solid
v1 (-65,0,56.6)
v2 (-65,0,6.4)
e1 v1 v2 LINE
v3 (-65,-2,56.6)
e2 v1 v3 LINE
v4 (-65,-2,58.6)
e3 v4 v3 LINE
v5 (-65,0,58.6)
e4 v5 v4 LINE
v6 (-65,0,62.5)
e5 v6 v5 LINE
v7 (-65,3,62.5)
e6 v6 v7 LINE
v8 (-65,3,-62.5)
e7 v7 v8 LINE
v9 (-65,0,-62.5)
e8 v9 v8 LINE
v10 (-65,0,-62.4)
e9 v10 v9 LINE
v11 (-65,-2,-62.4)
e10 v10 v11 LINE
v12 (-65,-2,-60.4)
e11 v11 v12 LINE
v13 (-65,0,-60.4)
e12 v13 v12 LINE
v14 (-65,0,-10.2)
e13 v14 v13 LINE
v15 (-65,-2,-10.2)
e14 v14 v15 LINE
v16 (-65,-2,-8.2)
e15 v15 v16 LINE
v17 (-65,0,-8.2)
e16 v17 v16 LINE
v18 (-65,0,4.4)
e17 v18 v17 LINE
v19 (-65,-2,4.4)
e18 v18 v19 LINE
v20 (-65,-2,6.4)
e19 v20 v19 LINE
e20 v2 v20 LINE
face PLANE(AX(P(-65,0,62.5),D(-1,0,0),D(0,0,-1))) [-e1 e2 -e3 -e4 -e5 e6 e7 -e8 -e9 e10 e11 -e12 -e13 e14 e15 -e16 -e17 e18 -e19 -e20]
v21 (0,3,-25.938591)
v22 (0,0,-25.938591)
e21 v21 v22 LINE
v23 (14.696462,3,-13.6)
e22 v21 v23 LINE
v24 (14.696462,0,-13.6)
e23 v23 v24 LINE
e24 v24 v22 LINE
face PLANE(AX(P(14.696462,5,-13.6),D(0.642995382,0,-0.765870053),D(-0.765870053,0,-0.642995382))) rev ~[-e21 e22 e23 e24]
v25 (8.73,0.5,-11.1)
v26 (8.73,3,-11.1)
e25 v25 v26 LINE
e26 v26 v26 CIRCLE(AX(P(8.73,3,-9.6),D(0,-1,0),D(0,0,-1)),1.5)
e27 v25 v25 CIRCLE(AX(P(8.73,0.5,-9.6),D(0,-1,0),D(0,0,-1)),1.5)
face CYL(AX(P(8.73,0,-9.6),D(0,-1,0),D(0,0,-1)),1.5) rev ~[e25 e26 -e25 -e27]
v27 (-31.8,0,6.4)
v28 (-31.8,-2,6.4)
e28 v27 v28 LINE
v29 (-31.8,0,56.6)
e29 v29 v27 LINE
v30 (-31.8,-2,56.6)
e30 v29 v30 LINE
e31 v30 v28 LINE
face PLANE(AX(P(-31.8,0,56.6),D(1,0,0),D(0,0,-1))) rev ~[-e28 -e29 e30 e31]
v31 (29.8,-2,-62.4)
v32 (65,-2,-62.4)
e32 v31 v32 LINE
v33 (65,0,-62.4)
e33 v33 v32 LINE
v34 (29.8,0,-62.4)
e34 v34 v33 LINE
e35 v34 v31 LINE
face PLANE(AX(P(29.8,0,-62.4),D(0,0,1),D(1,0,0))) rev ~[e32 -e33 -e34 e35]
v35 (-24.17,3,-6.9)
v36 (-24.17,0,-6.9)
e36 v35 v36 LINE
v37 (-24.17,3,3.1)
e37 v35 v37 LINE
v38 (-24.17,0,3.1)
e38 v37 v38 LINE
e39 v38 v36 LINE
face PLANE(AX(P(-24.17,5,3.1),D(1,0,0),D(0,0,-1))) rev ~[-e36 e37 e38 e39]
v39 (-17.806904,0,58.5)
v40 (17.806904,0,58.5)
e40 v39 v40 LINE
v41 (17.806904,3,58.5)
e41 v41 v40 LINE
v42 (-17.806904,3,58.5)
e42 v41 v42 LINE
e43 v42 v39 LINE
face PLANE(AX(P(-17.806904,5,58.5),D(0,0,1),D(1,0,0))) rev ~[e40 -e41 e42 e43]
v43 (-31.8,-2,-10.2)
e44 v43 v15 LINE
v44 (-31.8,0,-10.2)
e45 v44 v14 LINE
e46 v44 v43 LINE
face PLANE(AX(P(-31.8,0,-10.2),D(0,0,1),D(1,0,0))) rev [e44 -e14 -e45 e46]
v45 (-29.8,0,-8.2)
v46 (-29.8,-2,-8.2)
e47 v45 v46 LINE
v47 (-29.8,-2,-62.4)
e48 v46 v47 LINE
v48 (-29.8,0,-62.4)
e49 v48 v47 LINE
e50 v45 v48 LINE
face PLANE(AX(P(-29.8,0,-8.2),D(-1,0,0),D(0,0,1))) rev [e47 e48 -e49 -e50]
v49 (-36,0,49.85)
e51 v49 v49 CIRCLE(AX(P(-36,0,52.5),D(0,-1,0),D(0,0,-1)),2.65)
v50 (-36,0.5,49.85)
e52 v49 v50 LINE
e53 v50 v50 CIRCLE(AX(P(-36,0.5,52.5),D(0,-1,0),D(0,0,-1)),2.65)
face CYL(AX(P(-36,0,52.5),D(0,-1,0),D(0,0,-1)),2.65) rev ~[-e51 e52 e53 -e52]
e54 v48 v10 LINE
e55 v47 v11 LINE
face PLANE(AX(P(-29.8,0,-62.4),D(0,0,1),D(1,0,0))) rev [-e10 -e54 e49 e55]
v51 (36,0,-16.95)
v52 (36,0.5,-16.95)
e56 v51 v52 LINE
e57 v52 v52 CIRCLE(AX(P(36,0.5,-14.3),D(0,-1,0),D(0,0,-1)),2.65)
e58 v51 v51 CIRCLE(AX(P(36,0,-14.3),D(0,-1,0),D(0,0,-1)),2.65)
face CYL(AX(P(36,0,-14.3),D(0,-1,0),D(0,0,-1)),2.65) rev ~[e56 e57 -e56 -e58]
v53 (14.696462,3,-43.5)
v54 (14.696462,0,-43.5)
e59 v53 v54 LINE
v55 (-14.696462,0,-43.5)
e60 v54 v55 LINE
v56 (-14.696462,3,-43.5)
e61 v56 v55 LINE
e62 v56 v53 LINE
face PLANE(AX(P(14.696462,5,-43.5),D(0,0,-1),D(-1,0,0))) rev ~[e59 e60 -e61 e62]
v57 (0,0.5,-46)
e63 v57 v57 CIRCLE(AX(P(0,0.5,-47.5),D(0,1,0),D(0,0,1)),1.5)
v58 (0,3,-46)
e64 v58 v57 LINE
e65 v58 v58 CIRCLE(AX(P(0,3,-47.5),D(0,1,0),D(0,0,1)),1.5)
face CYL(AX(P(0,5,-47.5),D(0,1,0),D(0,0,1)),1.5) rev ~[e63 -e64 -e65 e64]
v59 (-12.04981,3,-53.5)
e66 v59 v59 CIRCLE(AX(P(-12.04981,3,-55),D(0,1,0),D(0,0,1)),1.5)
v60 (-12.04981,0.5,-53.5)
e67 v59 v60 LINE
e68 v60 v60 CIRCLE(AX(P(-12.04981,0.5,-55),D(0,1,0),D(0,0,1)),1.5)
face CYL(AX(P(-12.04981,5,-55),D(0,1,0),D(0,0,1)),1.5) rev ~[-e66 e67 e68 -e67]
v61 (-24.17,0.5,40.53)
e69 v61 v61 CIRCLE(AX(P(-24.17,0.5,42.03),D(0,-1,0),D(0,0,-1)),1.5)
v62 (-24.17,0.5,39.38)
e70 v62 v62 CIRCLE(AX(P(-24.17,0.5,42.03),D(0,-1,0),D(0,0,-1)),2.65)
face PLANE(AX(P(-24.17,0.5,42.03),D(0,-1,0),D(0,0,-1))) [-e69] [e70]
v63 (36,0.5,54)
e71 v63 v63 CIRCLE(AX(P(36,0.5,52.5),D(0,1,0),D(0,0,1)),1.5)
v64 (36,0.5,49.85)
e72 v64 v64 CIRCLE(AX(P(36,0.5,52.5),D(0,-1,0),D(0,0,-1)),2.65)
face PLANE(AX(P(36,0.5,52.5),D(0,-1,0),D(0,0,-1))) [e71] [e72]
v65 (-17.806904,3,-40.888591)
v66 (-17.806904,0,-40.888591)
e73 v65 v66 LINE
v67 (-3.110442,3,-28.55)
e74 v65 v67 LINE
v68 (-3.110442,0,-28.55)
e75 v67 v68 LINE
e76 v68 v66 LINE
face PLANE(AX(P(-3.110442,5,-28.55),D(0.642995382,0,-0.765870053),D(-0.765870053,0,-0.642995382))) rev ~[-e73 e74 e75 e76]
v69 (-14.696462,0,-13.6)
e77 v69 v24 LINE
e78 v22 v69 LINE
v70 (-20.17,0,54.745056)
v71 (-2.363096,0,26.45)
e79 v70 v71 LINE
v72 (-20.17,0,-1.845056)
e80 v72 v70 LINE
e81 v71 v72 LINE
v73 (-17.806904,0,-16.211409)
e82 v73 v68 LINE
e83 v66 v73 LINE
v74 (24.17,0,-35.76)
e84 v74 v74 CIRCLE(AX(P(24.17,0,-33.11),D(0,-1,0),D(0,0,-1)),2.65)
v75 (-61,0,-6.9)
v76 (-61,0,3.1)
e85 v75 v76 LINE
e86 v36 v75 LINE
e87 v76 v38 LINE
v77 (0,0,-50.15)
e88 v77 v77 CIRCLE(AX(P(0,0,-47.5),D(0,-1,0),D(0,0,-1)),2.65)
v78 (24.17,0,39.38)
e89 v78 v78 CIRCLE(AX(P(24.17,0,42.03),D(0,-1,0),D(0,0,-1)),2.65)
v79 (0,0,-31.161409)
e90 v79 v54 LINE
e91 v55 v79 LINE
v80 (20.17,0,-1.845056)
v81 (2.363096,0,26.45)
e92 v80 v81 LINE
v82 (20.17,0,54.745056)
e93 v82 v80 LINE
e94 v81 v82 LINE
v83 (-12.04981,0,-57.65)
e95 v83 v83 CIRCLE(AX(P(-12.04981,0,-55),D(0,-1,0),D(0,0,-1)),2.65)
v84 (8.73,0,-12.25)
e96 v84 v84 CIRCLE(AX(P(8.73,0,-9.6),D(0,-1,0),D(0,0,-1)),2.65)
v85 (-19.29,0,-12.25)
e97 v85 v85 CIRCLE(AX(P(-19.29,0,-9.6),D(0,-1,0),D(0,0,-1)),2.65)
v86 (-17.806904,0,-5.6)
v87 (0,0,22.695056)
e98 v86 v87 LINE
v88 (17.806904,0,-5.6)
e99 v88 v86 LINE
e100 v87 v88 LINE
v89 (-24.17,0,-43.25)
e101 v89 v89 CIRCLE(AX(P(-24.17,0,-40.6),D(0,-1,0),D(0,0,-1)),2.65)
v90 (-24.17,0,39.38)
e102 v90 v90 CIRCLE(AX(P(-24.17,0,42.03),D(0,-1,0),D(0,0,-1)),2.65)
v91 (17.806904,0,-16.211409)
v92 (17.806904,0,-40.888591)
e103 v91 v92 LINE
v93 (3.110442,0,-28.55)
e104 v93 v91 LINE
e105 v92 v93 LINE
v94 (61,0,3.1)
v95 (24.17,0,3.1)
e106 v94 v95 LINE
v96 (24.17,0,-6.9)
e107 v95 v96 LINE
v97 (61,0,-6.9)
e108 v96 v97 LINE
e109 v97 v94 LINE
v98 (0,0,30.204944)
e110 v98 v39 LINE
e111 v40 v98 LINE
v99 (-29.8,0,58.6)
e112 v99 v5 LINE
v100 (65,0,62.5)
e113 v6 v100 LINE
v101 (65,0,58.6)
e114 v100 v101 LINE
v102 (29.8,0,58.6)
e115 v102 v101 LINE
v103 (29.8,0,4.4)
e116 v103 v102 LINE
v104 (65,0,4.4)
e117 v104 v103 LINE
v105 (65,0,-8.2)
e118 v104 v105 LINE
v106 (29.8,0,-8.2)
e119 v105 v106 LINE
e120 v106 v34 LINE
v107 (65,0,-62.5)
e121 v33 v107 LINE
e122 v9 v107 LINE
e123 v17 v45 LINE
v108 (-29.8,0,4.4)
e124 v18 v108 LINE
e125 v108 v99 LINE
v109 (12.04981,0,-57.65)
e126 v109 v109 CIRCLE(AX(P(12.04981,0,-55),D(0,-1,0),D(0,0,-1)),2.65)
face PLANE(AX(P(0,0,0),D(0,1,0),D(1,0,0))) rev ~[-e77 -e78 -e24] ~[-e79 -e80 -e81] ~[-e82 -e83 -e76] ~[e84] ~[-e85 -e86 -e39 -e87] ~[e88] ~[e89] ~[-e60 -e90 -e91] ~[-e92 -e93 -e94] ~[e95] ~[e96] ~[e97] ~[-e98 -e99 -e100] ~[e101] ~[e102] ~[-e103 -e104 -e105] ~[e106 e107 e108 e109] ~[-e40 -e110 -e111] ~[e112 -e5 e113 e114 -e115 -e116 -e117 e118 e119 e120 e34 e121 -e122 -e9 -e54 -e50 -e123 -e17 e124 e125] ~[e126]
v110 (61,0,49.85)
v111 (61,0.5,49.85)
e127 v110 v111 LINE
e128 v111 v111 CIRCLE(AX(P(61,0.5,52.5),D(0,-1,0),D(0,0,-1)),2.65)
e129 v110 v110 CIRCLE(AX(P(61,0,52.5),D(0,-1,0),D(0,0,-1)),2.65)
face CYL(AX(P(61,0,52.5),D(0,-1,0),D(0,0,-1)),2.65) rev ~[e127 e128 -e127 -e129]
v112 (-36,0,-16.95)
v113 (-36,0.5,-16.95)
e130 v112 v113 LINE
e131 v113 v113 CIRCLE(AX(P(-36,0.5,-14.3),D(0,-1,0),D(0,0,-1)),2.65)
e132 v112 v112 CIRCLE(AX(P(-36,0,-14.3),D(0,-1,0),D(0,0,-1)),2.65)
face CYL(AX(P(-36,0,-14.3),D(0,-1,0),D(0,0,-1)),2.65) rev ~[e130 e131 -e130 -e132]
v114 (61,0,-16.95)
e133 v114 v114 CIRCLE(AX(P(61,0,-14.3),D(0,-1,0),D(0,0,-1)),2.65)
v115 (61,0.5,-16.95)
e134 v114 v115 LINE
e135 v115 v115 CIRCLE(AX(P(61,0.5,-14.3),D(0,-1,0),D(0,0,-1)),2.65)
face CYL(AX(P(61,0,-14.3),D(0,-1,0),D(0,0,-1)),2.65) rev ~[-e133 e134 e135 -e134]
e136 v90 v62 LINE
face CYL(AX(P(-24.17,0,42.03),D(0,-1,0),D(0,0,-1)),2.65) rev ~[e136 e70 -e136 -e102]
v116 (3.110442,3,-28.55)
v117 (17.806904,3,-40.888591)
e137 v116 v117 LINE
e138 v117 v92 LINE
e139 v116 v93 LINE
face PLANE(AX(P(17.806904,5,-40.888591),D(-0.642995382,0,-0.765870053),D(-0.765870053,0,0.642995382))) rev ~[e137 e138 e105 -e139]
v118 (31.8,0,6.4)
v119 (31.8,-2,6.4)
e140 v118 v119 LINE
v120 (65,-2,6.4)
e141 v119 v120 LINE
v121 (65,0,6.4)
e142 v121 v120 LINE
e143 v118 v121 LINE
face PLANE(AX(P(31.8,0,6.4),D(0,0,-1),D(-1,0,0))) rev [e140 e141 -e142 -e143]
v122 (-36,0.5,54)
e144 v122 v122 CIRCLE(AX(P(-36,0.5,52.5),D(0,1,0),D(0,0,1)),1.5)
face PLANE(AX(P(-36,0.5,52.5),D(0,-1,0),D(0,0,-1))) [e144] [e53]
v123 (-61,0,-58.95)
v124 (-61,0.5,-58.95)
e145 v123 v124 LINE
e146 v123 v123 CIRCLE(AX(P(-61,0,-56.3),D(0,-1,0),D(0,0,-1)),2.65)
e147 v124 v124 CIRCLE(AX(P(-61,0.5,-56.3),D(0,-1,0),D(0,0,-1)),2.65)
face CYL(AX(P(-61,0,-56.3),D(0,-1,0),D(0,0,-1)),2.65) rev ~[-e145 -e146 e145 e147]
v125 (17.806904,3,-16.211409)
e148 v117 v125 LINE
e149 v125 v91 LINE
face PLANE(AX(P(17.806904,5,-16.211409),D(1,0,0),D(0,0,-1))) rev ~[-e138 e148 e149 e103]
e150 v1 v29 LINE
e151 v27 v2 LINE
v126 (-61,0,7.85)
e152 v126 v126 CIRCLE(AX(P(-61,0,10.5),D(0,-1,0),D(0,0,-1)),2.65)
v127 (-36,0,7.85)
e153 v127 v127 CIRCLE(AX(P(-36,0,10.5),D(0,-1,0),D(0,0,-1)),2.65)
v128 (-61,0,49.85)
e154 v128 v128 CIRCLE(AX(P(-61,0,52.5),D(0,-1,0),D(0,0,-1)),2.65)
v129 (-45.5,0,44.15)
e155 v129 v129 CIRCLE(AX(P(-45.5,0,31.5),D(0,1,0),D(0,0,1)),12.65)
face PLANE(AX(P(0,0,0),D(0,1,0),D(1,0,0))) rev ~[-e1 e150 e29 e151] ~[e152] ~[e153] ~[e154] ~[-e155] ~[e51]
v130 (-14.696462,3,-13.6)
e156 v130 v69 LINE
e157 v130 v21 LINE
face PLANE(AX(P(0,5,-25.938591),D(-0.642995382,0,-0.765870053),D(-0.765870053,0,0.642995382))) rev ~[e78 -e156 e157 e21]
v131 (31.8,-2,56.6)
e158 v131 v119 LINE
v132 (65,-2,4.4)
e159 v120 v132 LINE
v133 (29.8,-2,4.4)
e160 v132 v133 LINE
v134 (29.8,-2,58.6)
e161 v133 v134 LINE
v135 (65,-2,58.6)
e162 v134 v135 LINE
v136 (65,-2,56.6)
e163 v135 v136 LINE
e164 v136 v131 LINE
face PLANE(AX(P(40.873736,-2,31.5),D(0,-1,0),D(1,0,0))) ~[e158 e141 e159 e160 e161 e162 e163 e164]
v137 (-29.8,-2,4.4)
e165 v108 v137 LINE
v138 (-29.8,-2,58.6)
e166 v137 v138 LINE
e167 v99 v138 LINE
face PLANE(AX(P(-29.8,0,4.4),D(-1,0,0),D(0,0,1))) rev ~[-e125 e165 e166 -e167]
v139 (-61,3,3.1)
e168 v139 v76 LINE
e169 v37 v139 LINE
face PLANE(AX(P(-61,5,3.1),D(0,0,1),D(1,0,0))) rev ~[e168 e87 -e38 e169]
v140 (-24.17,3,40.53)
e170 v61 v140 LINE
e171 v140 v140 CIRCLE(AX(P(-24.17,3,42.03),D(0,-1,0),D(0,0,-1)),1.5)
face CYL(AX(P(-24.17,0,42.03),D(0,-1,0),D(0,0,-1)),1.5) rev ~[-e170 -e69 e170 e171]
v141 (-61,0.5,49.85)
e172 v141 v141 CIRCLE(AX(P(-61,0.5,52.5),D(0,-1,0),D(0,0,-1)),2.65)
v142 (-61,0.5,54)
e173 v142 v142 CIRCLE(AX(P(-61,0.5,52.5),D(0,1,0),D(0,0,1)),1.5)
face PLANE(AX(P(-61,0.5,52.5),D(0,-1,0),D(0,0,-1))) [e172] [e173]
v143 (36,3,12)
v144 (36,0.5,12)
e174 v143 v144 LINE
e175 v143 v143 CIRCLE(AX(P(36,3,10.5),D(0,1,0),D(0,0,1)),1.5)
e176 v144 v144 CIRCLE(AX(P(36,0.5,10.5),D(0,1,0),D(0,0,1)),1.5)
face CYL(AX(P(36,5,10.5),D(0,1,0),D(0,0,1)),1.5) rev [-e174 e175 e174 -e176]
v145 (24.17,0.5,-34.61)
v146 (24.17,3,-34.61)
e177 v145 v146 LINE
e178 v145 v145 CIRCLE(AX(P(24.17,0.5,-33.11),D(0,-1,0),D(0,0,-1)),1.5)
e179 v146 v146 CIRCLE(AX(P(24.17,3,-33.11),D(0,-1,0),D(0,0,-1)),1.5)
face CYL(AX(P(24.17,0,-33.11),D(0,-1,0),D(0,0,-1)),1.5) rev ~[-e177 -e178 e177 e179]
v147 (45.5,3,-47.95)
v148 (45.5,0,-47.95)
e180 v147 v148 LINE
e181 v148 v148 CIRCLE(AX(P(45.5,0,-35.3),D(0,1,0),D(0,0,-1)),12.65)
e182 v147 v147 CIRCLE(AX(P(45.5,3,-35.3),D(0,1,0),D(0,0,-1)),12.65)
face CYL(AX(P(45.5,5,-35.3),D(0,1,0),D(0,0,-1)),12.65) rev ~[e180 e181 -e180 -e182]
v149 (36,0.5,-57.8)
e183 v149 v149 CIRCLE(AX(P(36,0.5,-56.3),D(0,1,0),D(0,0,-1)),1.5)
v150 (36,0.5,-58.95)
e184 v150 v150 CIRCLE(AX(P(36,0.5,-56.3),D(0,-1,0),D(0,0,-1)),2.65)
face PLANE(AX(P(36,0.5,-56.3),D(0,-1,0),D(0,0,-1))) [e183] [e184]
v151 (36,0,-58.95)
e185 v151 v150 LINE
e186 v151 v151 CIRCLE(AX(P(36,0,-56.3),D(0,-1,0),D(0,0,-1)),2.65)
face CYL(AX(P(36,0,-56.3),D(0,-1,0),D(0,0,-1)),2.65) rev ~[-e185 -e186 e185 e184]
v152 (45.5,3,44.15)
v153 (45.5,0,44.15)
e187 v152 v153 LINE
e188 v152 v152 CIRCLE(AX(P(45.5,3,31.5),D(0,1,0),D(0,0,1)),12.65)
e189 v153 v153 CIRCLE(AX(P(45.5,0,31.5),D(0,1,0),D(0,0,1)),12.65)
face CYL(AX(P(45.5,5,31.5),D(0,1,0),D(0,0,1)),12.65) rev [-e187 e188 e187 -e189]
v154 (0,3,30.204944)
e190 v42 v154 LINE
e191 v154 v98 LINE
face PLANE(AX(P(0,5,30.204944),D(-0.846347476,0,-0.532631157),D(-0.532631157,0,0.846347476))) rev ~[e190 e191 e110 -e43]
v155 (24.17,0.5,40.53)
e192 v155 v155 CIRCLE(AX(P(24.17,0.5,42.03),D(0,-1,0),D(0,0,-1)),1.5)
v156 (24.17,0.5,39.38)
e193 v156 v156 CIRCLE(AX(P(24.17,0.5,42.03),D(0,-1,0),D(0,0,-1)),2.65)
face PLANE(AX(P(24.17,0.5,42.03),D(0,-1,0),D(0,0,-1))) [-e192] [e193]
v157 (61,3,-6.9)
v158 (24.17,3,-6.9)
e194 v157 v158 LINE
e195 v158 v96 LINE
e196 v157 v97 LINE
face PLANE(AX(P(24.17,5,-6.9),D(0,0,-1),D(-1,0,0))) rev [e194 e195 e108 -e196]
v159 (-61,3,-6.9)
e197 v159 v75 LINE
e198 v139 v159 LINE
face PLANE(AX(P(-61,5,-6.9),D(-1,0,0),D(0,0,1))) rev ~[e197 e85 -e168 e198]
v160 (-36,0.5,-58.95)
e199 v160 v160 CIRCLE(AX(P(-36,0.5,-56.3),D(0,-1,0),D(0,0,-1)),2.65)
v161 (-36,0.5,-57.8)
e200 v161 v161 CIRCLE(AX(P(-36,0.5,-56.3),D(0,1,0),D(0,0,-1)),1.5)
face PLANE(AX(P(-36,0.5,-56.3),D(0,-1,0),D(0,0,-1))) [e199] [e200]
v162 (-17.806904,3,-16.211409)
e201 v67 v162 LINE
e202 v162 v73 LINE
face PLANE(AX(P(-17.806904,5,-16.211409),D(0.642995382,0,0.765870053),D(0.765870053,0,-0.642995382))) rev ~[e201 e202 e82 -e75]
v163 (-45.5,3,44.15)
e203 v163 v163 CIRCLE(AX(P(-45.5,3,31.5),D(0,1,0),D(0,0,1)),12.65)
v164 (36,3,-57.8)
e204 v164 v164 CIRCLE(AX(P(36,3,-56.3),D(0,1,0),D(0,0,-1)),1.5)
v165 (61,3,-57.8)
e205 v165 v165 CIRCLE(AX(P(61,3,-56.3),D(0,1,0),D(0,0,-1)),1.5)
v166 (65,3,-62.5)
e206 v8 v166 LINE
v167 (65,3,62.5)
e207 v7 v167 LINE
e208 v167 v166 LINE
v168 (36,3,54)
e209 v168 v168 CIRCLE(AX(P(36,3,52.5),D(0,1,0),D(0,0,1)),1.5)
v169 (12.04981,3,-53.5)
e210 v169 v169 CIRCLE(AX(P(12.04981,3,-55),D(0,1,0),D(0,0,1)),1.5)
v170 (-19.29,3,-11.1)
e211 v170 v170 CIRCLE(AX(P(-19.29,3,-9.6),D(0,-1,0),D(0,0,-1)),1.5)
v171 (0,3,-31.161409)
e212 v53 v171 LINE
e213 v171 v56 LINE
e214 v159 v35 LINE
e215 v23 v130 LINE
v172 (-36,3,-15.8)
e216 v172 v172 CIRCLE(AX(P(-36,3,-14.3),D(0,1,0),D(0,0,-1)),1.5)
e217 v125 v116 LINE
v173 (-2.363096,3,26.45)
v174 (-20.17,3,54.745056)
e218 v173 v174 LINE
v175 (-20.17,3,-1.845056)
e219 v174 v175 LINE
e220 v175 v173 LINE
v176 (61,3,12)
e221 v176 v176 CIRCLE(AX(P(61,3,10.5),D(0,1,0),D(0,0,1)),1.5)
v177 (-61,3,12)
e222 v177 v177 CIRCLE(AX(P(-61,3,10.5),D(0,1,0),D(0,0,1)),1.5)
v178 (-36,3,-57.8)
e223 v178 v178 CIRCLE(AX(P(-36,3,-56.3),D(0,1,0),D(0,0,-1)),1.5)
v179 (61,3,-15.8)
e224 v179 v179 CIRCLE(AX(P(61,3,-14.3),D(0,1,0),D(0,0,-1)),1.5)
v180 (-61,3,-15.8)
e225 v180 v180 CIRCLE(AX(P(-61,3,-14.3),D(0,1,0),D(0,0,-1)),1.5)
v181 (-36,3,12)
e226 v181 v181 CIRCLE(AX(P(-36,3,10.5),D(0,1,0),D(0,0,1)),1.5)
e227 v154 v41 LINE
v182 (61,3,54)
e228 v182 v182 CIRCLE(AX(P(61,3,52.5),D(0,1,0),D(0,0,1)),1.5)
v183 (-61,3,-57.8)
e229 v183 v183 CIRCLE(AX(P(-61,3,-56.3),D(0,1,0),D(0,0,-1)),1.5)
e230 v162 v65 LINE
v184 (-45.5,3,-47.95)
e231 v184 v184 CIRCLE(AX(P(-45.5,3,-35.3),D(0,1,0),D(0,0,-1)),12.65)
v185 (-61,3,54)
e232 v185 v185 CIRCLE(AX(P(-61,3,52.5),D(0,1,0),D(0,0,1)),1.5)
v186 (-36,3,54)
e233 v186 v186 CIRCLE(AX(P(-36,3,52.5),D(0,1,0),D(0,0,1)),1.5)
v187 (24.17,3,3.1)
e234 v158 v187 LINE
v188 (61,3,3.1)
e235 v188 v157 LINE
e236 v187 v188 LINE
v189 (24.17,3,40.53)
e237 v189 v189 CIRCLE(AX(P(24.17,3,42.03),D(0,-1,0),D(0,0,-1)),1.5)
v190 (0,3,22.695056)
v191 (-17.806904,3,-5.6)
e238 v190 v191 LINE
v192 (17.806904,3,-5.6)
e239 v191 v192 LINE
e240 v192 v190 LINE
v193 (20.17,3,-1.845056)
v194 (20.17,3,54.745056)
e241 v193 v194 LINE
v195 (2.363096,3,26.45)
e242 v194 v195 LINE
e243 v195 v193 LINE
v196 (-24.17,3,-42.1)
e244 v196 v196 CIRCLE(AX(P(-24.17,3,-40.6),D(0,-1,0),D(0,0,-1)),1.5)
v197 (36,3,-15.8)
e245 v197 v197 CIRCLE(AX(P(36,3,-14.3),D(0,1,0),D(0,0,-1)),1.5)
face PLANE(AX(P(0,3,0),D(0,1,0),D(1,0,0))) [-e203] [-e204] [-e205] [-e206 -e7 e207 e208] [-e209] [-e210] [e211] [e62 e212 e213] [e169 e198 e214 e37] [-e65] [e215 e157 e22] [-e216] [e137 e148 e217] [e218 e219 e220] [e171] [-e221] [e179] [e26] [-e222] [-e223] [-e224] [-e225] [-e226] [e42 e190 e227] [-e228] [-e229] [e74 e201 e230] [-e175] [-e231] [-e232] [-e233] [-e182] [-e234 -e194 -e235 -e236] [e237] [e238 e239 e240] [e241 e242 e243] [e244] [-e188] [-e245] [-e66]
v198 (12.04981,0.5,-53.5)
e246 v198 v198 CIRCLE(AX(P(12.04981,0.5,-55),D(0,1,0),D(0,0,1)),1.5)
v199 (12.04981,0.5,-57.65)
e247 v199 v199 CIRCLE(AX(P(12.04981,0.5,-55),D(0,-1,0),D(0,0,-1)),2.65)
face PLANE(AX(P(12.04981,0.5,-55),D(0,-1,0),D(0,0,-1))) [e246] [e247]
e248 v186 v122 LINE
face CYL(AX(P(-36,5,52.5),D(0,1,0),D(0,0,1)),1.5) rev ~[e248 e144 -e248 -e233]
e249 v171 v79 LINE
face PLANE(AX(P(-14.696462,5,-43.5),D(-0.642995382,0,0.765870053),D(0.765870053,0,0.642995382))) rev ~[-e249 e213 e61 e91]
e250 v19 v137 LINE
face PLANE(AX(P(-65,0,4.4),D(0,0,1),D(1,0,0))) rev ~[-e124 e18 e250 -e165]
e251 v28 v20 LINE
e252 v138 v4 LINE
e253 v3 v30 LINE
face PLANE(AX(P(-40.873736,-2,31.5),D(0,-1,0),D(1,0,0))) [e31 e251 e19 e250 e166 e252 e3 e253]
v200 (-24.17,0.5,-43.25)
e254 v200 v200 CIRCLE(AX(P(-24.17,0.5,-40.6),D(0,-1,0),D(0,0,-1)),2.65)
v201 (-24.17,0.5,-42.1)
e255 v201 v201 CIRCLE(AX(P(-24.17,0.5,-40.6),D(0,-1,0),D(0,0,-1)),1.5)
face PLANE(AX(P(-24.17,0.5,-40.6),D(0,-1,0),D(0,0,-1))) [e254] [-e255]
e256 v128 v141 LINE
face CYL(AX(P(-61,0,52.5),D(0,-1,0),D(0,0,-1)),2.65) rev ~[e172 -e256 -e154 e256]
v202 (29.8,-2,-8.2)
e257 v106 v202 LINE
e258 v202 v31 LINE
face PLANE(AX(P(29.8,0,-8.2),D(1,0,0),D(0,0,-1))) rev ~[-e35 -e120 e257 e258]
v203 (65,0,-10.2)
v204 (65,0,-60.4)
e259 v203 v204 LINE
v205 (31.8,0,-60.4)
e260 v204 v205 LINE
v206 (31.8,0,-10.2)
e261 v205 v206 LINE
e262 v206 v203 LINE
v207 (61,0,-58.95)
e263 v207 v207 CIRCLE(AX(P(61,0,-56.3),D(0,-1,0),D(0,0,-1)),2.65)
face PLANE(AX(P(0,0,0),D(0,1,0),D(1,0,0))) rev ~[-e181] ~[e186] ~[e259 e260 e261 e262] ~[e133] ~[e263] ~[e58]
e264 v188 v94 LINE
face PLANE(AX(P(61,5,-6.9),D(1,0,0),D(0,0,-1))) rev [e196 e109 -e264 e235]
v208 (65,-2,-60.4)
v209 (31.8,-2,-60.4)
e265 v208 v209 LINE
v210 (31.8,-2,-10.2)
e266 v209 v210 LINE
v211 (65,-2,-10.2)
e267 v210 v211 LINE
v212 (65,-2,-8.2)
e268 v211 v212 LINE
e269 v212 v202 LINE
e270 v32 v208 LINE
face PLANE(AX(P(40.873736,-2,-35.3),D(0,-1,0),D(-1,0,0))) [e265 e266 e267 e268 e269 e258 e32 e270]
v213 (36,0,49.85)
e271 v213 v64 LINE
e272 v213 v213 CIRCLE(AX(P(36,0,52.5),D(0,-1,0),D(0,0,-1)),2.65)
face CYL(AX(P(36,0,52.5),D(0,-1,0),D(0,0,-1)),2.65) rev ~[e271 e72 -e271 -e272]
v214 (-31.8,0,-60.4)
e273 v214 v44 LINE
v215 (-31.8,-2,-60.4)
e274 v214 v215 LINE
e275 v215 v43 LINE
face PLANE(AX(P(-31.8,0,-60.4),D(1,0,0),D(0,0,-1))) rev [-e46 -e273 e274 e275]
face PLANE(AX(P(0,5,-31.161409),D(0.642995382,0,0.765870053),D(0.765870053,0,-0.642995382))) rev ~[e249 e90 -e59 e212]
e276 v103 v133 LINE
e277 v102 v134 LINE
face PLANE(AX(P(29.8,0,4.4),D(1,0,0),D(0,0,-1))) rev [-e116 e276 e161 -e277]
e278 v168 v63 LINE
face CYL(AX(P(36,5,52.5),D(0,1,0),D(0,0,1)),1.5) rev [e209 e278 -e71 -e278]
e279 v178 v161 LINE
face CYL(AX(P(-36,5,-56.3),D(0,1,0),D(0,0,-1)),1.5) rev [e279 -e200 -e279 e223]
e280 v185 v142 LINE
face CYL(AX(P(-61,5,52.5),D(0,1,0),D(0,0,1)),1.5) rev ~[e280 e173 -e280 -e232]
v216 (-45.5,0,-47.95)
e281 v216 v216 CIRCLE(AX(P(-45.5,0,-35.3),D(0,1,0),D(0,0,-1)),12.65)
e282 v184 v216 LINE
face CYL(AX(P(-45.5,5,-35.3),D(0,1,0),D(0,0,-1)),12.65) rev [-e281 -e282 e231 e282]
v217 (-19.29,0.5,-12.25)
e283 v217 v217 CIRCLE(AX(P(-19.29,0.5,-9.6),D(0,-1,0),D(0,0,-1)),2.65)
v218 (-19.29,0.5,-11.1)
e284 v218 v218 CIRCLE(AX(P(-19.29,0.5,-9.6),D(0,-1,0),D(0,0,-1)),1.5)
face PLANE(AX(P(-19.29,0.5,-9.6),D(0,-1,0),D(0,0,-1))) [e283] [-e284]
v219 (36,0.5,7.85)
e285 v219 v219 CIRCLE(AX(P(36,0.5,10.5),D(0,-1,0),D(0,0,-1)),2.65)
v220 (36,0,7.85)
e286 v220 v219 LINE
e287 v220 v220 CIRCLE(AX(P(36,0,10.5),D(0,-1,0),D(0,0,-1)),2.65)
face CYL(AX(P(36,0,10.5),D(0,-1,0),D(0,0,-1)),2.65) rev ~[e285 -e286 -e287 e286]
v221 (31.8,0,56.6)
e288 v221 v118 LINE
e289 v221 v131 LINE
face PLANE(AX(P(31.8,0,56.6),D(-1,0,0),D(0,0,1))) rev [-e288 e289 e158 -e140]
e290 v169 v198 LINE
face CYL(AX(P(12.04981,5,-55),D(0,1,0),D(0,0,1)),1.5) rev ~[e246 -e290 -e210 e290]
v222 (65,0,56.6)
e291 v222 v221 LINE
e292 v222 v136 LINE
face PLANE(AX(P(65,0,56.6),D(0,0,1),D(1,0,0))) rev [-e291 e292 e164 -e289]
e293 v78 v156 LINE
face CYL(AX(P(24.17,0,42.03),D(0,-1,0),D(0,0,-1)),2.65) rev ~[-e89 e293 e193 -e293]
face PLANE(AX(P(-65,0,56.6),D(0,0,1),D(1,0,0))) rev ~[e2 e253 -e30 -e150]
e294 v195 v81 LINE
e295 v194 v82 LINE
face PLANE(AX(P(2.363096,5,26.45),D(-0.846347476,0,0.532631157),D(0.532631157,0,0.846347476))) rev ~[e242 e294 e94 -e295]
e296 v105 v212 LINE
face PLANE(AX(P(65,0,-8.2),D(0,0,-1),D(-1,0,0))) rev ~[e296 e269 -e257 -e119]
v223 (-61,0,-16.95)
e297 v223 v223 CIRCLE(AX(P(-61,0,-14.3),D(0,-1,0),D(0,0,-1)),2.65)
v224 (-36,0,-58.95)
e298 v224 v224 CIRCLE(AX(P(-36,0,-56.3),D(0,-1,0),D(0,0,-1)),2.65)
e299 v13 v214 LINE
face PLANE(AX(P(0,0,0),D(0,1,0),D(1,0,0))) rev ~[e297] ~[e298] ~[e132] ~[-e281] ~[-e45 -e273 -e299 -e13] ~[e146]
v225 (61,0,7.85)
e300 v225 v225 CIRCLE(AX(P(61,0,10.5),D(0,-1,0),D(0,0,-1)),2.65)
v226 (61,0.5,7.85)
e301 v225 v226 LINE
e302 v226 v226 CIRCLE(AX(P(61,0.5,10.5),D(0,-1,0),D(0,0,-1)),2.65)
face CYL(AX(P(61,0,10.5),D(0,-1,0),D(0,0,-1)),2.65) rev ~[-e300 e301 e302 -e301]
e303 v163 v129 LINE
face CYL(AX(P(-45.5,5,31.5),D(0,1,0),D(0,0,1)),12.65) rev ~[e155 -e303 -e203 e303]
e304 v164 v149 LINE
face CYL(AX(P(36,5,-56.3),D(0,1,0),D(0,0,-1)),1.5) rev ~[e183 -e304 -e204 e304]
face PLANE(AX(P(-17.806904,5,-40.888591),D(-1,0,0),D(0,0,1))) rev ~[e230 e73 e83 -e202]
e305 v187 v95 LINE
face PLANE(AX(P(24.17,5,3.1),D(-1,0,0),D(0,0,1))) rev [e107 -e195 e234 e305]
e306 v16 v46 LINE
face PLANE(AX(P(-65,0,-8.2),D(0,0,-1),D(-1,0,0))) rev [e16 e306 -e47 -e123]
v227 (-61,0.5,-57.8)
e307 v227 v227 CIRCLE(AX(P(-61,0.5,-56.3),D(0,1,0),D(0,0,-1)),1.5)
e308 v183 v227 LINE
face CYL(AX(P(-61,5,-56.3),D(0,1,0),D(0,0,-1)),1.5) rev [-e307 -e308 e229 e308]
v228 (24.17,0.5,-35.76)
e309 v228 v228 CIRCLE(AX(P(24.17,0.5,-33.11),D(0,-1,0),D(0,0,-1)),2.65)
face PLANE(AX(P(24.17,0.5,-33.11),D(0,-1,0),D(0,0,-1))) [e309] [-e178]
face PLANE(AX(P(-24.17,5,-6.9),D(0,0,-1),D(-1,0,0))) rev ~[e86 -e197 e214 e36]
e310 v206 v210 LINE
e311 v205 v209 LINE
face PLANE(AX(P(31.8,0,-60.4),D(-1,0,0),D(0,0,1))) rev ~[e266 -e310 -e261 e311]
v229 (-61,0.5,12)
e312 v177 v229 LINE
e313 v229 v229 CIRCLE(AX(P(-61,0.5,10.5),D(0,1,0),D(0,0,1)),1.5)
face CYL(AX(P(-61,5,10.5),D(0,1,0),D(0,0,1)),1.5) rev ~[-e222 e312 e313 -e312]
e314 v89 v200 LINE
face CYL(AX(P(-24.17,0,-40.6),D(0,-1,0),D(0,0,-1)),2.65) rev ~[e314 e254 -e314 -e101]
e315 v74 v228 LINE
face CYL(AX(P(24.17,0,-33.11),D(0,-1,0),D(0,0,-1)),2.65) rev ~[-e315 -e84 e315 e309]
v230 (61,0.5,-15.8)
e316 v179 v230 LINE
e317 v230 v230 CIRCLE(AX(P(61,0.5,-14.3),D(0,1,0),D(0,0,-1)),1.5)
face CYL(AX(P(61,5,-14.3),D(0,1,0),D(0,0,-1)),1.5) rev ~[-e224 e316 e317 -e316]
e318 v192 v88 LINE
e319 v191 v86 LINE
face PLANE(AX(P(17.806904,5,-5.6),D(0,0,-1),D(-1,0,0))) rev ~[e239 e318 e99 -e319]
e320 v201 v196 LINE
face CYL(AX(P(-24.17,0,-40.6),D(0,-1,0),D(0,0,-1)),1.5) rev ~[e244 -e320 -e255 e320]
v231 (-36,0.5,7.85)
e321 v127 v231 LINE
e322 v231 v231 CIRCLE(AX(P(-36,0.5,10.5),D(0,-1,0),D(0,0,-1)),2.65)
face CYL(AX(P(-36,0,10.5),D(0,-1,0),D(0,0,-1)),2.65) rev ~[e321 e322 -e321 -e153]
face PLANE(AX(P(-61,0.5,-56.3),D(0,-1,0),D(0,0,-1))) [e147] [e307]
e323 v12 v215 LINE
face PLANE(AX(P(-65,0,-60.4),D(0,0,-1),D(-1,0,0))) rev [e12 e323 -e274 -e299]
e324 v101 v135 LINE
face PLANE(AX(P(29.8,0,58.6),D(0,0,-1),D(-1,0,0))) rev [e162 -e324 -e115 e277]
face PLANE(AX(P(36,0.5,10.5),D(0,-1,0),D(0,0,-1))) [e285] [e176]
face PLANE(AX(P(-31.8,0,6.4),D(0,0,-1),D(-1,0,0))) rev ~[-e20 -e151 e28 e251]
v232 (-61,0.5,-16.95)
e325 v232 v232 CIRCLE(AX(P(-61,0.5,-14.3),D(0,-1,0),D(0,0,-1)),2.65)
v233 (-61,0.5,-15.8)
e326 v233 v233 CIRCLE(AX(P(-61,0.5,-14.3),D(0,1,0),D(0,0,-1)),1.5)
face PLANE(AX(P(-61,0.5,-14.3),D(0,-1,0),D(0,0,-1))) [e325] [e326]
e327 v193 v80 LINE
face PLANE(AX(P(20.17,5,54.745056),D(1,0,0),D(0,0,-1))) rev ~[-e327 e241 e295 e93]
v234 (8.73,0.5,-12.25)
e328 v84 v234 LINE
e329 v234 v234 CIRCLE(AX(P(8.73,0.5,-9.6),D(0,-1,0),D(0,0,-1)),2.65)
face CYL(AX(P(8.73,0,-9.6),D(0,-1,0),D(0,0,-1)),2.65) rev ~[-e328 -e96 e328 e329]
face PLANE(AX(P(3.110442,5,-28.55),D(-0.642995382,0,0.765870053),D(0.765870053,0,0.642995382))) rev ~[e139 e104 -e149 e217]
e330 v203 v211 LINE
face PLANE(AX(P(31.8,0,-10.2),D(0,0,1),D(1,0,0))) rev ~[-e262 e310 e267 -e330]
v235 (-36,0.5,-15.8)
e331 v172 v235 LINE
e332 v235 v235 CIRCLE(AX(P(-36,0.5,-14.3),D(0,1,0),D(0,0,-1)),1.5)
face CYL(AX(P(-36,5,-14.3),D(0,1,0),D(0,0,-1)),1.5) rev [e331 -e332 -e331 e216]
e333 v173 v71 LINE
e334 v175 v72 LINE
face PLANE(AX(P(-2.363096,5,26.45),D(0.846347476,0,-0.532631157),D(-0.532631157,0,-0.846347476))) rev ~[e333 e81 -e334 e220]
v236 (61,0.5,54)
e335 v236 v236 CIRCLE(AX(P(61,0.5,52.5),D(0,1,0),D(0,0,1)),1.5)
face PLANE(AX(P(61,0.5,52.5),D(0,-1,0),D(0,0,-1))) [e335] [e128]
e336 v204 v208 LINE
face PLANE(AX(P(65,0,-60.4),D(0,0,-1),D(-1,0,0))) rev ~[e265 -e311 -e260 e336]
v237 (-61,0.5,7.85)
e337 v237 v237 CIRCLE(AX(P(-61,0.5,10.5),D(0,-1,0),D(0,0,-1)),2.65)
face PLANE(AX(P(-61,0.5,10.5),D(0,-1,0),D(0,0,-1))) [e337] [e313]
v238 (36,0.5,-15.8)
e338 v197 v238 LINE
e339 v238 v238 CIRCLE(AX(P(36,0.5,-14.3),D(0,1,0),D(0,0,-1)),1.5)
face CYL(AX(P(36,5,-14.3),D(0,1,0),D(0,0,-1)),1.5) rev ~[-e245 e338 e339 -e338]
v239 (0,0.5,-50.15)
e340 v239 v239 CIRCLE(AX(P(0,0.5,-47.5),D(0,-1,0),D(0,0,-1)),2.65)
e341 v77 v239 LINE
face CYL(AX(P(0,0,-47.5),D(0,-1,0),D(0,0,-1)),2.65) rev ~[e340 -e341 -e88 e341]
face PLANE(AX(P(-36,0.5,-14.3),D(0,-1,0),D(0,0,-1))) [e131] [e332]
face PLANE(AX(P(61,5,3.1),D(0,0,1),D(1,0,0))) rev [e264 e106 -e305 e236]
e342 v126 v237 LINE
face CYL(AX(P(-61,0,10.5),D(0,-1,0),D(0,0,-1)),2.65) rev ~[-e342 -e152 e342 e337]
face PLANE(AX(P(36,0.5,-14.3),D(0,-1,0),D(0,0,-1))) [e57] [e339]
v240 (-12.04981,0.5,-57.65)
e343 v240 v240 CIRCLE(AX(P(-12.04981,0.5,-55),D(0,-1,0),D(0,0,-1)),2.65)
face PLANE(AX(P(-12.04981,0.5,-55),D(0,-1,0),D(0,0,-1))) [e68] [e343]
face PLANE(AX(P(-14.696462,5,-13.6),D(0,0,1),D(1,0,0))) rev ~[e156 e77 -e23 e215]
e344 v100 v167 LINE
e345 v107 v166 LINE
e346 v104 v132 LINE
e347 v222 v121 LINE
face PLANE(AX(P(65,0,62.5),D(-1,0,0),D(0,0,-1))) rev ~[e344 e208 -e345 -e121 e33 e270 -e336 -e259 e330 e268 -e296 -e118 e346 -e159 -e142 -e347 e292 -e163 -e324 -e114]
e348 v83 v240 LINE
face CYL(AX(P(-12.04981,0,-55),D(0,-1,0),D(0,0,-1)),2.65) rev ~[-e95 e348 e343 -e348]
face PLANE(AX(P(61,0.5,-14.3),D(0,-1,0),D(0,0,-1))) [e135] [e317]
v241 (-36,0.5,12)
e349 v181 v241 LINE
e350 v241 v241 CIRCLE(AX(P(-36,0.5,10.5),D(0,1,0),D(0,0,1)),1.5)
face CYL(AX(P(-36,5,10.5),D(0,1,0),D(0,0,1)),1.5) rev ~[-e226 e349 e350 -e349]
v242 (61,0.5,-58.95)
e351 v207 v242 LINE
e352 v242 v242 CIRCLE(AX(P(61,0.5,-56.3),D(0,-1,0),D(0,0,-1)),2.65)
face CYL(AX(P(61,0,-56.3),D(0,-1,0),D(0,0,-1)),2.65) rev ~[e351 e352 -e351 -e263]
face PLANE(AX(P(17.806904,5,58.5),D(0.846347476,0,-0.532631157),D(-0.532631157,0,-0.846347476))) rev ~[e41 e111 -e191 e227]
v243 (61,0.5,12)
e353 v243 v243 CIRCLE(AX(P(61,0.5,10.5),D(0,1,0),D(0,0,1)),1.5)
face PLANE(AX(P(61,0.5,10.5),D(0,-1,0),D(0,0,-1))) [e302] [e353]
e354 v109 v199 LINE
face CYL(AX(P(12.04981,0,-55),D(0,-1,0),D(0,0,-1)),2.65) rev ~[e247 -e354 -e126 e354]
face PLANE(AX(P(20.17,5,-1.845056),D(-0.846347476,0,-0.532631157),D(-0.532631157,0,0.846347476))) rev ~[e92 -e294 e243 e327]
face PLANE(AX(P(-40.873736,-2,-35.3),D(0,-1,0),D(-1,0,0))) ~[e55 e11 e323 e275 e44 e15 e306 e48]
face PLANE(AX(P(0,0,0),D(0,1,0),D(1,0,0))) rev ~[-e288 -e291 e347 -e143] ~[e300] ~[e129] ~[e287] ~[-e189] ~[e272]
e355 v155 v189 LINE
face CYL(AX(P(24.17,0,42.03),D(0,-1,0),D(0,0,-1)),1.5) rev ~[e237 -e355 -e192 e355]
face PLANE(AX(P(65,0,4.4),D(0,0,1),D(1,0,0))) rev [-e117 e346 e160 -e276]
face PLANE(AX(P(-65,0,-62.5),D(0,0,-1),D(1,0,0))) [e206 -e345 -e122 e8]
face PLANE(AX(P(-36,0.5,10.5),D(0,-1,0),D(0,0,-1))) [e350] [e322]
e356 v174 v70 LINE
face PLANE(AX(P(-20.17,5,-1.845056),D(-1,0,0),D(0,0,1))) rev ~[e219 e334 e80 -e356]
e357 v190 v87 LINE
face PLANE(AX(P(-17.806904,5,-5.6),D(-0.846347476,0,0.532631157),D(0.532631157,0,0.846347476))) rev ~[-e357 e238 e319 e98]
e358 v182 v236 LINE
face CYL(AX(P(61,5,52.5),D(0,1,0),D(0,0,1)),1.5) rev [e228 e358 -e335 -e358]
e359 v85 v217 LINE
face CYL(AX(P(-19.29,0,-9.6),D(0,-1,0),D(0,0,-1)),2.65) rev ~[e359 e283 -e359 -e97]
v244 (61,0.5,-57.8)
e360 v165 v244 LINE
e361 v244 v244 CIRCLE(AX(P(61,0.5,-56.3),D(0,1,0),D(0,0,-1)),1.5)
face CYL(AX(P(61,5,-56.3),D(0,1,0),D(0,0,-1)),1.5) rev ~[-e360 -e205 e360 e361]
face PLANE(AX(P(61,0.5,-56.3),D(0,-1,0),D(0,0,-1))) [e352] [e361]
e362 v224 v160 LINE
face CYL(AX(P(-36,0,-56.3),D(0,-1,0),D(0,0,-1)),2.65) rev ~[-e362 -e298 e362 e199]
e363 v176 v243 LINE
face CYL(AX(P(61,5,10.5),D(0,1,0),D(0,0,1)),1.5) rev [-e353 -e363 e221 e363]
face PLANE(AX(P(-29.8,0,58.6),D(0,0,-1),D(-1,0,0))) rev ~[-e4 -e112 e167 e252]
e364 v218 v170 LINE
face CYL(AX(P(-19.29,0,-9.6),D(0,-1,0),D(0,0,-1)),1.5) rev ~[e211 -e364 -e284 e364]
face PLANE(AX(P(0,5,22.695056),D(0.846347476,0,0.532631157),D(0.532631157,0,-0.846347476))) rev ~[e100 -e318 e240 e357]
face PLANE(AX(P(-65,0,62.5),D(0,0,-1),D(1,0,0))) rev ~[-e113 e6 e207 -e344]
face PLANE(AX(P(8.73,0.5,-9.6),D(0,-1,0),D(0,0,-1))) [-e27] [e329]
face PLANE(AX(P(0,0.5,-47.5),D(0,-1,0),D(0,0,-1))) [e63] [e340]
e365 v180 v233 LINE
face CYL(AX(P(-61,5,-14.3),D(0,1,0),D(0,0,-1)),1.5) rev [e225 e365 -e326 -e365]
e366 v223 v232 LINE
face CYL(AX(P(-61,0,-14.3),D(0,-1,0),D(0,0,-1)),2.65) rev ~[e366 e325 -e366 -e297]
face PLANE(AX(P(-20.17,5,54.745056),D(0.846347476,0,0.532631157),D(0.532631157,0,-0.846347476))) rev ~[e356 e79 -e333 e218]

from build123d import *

# Parameters (mm, degrees)
SKETCH1_W                 = 130
SKETCH1_H                 = 125
BOSS_EXTRUDE1_DEPTH       = 5
SKETCH2_R                 = 1.5
SKETCH2_R_2               = 12.65
CUT_EXTRUDE1_DEPTH        = 10
SKETCH4_R                 = 1.5
CUT_EXTRUDE3_DEPTH        = 10
BOSS_EXTRUDE2_DEPTH       = 2
MIRROR7_COPY_1_SKETCH_R   = 1.5
MIRROR7_COPY_1_SKETCH_R_2 = 12.65
MIRROR7_COPY_1_DEPTH      = 10
MIRROR7_COPY_2_DEPTH      = 2
SKETCH10_R                = 1.5
CUT_EXTRUDE8_DEPTH        = 91.311959341
SKETCH11_R                = 2.65
CUT_EXTRUDE9_DEPTH        = 0.5
CUT_EXTRUDE10_DEPTH       = 91.444734507
CUT_EXTRUDE11_DEPTH       = 91.444734507
CUT_EXTRUDE12_DEPTH       = 91.444734507
SKETCH15_W                = 130
SKETCH15_H                = 125
SKETCH15_W_2              = 5
SKETCH15_H_2              = 5
CUT_EXTRUDE14_DEPTH       = 2
CUT_EXTRUDE15_START       = -8
SKETCH17_W                = 137.629855092
SKETCH17_H                = 131.076052468
CUT_EXTRUDE15_DEPTH       = 2


with BuildPart() as part:
    # Sketch1 → Boss-Extrude1 (new body)
    with BuildSketch(Plane(origin=(0, 0, 0), x_dir=(1, 0, 0), z_dir=(0, 1, 0))):
        Rectangle(SKETCH1_W, SKETCH1_H)
    extrude(amount=BOSS_EXTRUDE1_DEPTH)

    # Sketch2 → Cut-Extrude1 (cut)
    with BuildSketch(Plane(origin=(0, 5, 0), x_dir=(1, 0, 0), z_dir=(0, 1, 0))):
        with Locations(Location((-61, -52.5, 0), (0, 0, 270))):
            Circle(SKETCH2_R)
        with Locations(Location((-36, -52.5, 0), (0, 0, 270))):
            Circle(SKETCH2_R)
        with Locations(Location((-36, -10.5, 0), (0, 0, 270))):
            Circle(SKETCH2_R)
        with Locations(Location((-61, -10.5, 0), (0, 0, 270))):
            Circle(SKETCH2_R)
        with Locations(Location((-45.5, -31.5, 0), (0, 0, 270))):
            Circle(SKETCH2_R_2)
    cut_extrude1 = extrude(amount=-CUT_EXTRUDE1_DEPTH, mode=Mode.SUBTRACT)

    # Mirror3: Cut-Extrude1 across plane
    add(cut_extrude1.mirror(Plane.ZY), mode=Mode.SUBTRACT)

    # Sketch4 → Cut-Extrude3 (cut)
    with BuildSketch(Plane(origin=(0, 5, 0), x_dir=(1, 0, 0), z_dir=(0, 1, 0))):
        with Locations(Location((0, 47.5, 0), (0, 0, 270))):
            Circle(SKETCH4_R)
        with Locations(Location((12.049810205, 55, 0), (0, 0, 270))):
            Circle(SKETCH4_R)
        with Locations(Location((-12.049810205, 55, 0), (0, 0, 270))):
            Circle(SKETCH4_R)
    extrude(amount=-CUT_EXTRUDE3_DEPTH, mode=Mode.SUBTRACT)

    # Sketch5 → Boss-Extrude2 (add)
    with BuildSketch(Plane.XZ):
        Polygon((-65, 58.6), (-65, 56.6), (-31.8, 56.6), (-31.8, 6.4), (-65, 6.4), (-65, 4.4), (-29.8, 4.4), (-29.8, 58.6), align=None)
    boss_extrude2 = extrude(amount=BOSS_EXTRUDE2_DEPTH)

    # Mirror5: Boss-Extrude2 across plane
    add(boss_extrude2.mirror(Plane.ZY))

    # Mirror7: Cut-Extrude1, Boss-Extrude2 across plane
    add(cut_extrude1.mirror(Plane.XY.offset(-1.9)), mode=Mode.SUBTRACT)
    add(boss_extrude2.mirror(Plane.XY.offset(-1.9)))

    # Mirror7 copy 1 sketch → Mirror7 copy 1 (cut)
    with BuildSketch(Plane(origin=(0, 5, -3.8), x_dir=(-1, 0, 0), z_dir=(0, 1, 0))):
        with Locations(Location((-61, -52.5, 0), (0, 0, 270))):
            Circle(MIRROR7_COPY_1_SKETCH_R)
        with Locations(Location((-36, -52.5, 0), (0, 0, 270))):
            Circle(MIRROR7_COPY_1_SKETCH_R)
        with Locations(Location((-36, -10.5, 0), (0, 0, 270))):
            Circle(MIRROR7_COPY_1_SKETCH_R)
        with Locations(Location((-61, -10.5, 0), (0, 0, 270))):
            Circle(MIRROR7_COPY_1_SKETCH_R)
        with Locations(Location((-45.5, -31.5, 0), (0, 0, 270))):
            Circle(MIRROR7_COPY_1_SKETCH_R_2)
    extrude(amount=-MIRROR7_COPY_1_DEPTH, mode=Mode.SUBTRACT)

    # Mirror7 copy 2 sketch → Mirror7 copy 2 (add)
    with BuildSketch(Plane(origin=(0, 0, -3.8), x_dir=(-1, 0, 0), z_dir=(0, -1, 0))):
        Polygon((-65, 58.6), (-65, 56.6), (-31.8, 56.6), (-31.8, 6.4), (-65, 6.4), (-65, 4.4), (-29.8, 4.4), (-29.8, 58.6), align=None)
    extrude(amount=MIRROR7_COPY_2_DEPTH)

    # Sketch10 → Cut-Extrude8 (cut, through all)
    with BuildSketch(Plane(origin=(0, 0, 0), x_dir=(-1, 0, 0), z_dir=(0, -1, 0))):
        with Locations(Location((-24.17, -42.03, 0), (0, 0, 90))):
            Circle(SKETCH10_R)
        with Locations(Location((24.17, -42.03, 0), (0, 0, 90))):
            Circle(SKETCH10_R)
        with Locations(Location((-8.73, 9.6, 0), (0, 0, 90))):
            Circle(SKETCH10_R)
        with Locations(Location((19.29, 9.6, 0), (0, 0, 90))):
            Circle(SKETCH10_R)
        with Locations(Location((-24.17, 33.11, 0), (0, 0, 90))):
            Circle(SKETCH10_R)
        with Locations(Location((24.17, 40.6, 0), (0, 0, 90))):
            Circle(SKETCH10_R)
    extrude(amount=-CUT_EXTRUDE8_DEPTH, mode=Mode.SUBTRACT)

    # Sketch11 → Cut-Extrude9 (cut)
    with BuildSketch(Plane.XZ):
        with Locations(Location((-12.049810205, -55, 0), (0, 0, 270))):
            Circle(SKETCH11_R)
        with Locations(Location((0, -47.5, 0), (0, 0, 270))):
            Circle(SKETCH11_R)
        with Locations(Location((12.049810205, -55, 0), (0, 0, 270))):
            Circle(SKETCH11_R)
        with Locations(Location((-24.17, -40.6, 0), (0, 0, 270))):
            Circle(SKETCH11_R)
        with Locations(Location((24.17, -33.11, 0), (0, 0, 270))):
            Circle(SKETCH11_R)
        with Locations(Location((8.73, -9.6, 0), (0, 0, 270))):
            Circle(SKETCH11_R)
        with Locations(Location((-19.29, -9.6, 0), (0, 0, 270))):
            Circle(SKETCH11_R)
        with Locations(Location((-24.17, 42.03, 0), (0, 0, 270))):
            Circle(SKETCH11_R)
        with Locations(Location((24.17, 42.03, 0), (0, 0, 270))):
            Circle(SKETCH11_R)
        with Locations(Location((-61, -14.3, 0), (0, 0, 270))):
            Circle(SKETCH11_R)
        with Locations(Location((-36, -14.3, 0), (0, 0, 270))):
            Circle(SKETCH11_R)
        with Locations(Location((-61, -56.3, 0), (0, 0, 270))):
            Circle(SKETCH11_R)
        with Locations(Location((-36, -56.3, 0), (0, 0, 270))):
            Circle(SKETCH11_R)
        with Locations(Location((36, -56.3, 0), (0, 0, 270))):
            Circle(SKETCH11_R)
        with Locations(Location((61, -56.3, 0), (0, 0, 270))):
            Circle(SKETCH11_R)
        with Locations(Location((36, -14.3, 0), (0, 0, 270))):
            Circle(SKETCH11_R)
        with Locations(Location((61, -14.3, 0), (0, 0, 270))):
            Circle(SKETCH11_R)
        with Locations(Location((36, 10.5, 0), (0, 0, 270))):
            Circle(SKETCH11_R)
        with Locations(Location((61, 10.5, 0), (0, 0, 270))):
            Circle(SKETCH11_R)
        with Locations(Location((61, 52.5, 0), (0, 0, 270))):
            Circle(SKETCH11_R)
        with Locations(Location((36, 52.5, 0), (0, 0, 270))):
            Circle(SKETCH11_R)
        with Locations(Location((-36, 52.5, 0), (0, 0, 270))):
            Circle(SKETCH11_R)
        with Locations(Location((-36, 10.5, 0), (0, 0, 270))):
            Circle(SKETCH11_R)
        with Locations(Location((-61, 10.5, 0), (0, 0, 270))):
            Circle(SKETCH11_R)
        with Locations(Location((-61, 52.5, 0), (0, 0, 270))):
            Circle(SKETCH11_R)
    extrude(amount=-CUT_EXTRUDE9_DEPTH, mode=Mode.SUBTRACT)

    # Sketch12 → Cut-Extrude10 (cut, through all)
    with BuildSketch(Plane(origin=(0, 5, 0), x_dir=(1, 0, 0), z_dir=(0, 1, 0))):
        Polygon((-2.363095604, -26.45), (-20.17, 1.845056316), (-20.17, -54.745056316), align=None)
        Polygon((17.806904396, 5.6), (-17.806904396, 5.6), (0, -22.695056316), align=None)
        Polygon((20.17, -54.745056316), (20.17, 1.845056316), (2.363095604, -26.45), align=None)
        Polygon((0, -30.204943684), (-17.806904396, -58.5), (17.806904396, -58.5), align=None)
    extrude(amount=-CUT_EXTRUDE10_DEPTH, mode=Mode.SUBTRACT)

    # Sketch13 → Cut-Extrude11 (cut, through all)
    with BuildSketch(Plane(origin=(0, 5, 0), x_dir=(1, 0, 0), z_dir=(0, 1, 0))):
        Polygon((-61, 1.9), (-61, -3.1), (-24.17, -3.1), (-24.17, 6.9), (-61, 6.9), align=None)
    cut_extrude11 = extrude(amount=-CUT_EXTRUDE11_DEPTH, mode=Mode.SUBTRACT)

    # Mirror9: Cut-Extrude11 across plane
    add(cut_extrude11.mirror(Plane.ZY), mode=Mode.SUBTRACT)

    # Sketch14 → Cut-Extrude12 (cut, through all)
    with BuildSketch(Plane(origin=(0, 5, 0), x_dir=(1, 0, 0), z_dir=(0, 1, 0))):
        Polygon((-3.110442245, 28.55), (-17.806904396, 40.888590935), (-17.806904396, 16.211409065), align=None)
        Polygon((14.696462151, 43.5), (-14.696462151, 43.5), (0, 31.161409065), align=None)
        Polygon((17.806904396, 16.211409065), (17.806904396, 40.888590935), (3.110442245, 28.55), align=None)
        Polygon((0, 25.938590935), (-14.696462151, 13.6), (14.696462151, 13.6), align=None)
    extrude(amount=-CUT_EXTRUDE12_DEPTH, mode=Mode.SUBTRACT)

    # Sketch15 → Cut-Extrude14 (cut)
    with BuildSketch(Plane(origin=(0, 5, 0), x_dir=(1, 0, 0), z_dir=(0, 1, 0))):
        Rectangle(SKETCH15_W, SKETCH15_H)
        with Locations((-61, 56.3)):
            Rectangle(SKETCH15_W_2, SKETCH15_H_2, mode=Mode.SUBTRACT)
        with Locations((-36, 56.3)):
            Rectangle(SKETCH15_W_2, SKETCH15_H_2, mode=Mode.SUBTRACT)
        with Locations((-12.049810205, 55)):
            Rectangle(SKETCH15_W_2, SKETCH15_H_2, mode=Mode.SUBTRACT)
        with Locations((0, 47.5)):
            Rectangle(SKETCH15_W_2, SKETCH15_H_2, mode=Mode.SUBTRACT)
        with Locations((12.049810205, 55)):
            Rectangle(SKETCH15_W_2, SKETCH15_H_2, mode=Mode.SUBTRACT)
        with Locations((36, 56.3)):
            Rectangle(SKETCH15_W_2, SKETCH15_H_2, mode=Mode.SUBTRACT)
        with Locations((61, 56.3)):
            Rectangle(SKETCH15_W_2, SKETCH15_H_2, mode=Mode.SUBTRACT)
        with Locations((36, 14.3)):
            Rectangle(SKETCH15_W_2, SKETCH15_H_2, mode=Mode.SUBTRACT)
        with Locations((61, 14.3)):
            Rectangle(SKETCH15_W_2, SKETCH15_H_2, mode=Mode.SUBTRACT)
        with Locations((24.17, 33.11)):
            Rectangle(SKETCH15_W_2, SKETCH15_H_2, mode=Mode.SUBTRACT)
        with Locations((36, -10.5)):
            Rectangle(SKETCH15_W_2, SKETCH15_H_2, mode=Mode.SUBTRACT)
        with Locations((61, -10.5)):
            Rectangle(SKETCH15_W_2, SKETCH15_H_2, mode=Mode.SUBTRACT)
        with Locations((24.17, -42.03)):
            Rectangle(SKETCH15_W_2, SKETCH15_H_2, mode=Mode.SUBTRACT)
        with Locations((36, -52.5)):
            Rectangle(SKETCH15_W_2, SKETCH15_H_2, mode=Mode.SUBTRACT)
        with Locations((61, -52.5)):
            Rectangle(SKETCH15_W_2, SKETCH15_H_2, mode=Mode.SUBTRACT)
        with Locations((-24.17, -42.03)):
            Rectangle(SKETCH15_W_2, SKETCH15_H_2, mode=Mode.SUBTRACT)
        with Locations((-36, -52.5)):
            Rectangle(SKETCH15_W_2, SKETCH15_H_2, mode=Mode.SUBTRACT)
        with Locations((-36, -10.5)):
            Rectangle(SKETCH15_W_2, SKETCH15_H_2, mode=Mode.SUBTRACT)
        with Locations((8.73, 9.6)):
            Rectangle(SKETCH15_W_2, SKETCH15_H_2, mode=Mode.SUBTRACT)
        with Locations((-19.29, 9.6)):
            Rectangle(SKETCH15_W_2, SKETCH15_H_2, mode=Mode.SUBTRACT)
        with Locations((-24.17, 40.6)):
            Rectangle(SKETCH15_W_2, SKETCH15_H_2, mode=Mode.SUBTRACT)
        with Locations((-61, 14.3)):
            Rectangle(SKETCH15_W_2, SKETCH15_H_2, mode=Mode.SUBTRACT)
        with Locations((-36, 14.3)):
            Rectangle(SKETCH15_W_2, SKETCH15_H_2, mode=Mode.SUBTRACT)
        with Locations((-61, -10.5)):
            Rectangle(SKETCH15_W_2, SKETCH15_H_2, mode=Mode.SUBTRACT)
        with Locations((-61, -52.5)):
            Rectangle(SKETCH15_W_2, SKETCH15_H_2, mode=Mode.SUBTRACT)
    extrude(amount=-CUT_EXTRUDE14_DEPTH, mode=Mode.SUBTRACT)

    # Sketch17 → Cut-Extrude15 (cut)
    with BuildSketch(Plane(origin=(0, 13, 0), x_dir=(1, 0, 0), z_dir=(0, 1, 0)).offset(CUT_EXTRUDE15_START)):
        with Locations((0.756207995, -1.260346658)):
            Rectangle(SKETCH17_W, SKETCH17_H)
    extrude(amount=-CUT_EXTRUDE15_DEPTH, mode=Mode.SUBTRACT)


solid = part.part
